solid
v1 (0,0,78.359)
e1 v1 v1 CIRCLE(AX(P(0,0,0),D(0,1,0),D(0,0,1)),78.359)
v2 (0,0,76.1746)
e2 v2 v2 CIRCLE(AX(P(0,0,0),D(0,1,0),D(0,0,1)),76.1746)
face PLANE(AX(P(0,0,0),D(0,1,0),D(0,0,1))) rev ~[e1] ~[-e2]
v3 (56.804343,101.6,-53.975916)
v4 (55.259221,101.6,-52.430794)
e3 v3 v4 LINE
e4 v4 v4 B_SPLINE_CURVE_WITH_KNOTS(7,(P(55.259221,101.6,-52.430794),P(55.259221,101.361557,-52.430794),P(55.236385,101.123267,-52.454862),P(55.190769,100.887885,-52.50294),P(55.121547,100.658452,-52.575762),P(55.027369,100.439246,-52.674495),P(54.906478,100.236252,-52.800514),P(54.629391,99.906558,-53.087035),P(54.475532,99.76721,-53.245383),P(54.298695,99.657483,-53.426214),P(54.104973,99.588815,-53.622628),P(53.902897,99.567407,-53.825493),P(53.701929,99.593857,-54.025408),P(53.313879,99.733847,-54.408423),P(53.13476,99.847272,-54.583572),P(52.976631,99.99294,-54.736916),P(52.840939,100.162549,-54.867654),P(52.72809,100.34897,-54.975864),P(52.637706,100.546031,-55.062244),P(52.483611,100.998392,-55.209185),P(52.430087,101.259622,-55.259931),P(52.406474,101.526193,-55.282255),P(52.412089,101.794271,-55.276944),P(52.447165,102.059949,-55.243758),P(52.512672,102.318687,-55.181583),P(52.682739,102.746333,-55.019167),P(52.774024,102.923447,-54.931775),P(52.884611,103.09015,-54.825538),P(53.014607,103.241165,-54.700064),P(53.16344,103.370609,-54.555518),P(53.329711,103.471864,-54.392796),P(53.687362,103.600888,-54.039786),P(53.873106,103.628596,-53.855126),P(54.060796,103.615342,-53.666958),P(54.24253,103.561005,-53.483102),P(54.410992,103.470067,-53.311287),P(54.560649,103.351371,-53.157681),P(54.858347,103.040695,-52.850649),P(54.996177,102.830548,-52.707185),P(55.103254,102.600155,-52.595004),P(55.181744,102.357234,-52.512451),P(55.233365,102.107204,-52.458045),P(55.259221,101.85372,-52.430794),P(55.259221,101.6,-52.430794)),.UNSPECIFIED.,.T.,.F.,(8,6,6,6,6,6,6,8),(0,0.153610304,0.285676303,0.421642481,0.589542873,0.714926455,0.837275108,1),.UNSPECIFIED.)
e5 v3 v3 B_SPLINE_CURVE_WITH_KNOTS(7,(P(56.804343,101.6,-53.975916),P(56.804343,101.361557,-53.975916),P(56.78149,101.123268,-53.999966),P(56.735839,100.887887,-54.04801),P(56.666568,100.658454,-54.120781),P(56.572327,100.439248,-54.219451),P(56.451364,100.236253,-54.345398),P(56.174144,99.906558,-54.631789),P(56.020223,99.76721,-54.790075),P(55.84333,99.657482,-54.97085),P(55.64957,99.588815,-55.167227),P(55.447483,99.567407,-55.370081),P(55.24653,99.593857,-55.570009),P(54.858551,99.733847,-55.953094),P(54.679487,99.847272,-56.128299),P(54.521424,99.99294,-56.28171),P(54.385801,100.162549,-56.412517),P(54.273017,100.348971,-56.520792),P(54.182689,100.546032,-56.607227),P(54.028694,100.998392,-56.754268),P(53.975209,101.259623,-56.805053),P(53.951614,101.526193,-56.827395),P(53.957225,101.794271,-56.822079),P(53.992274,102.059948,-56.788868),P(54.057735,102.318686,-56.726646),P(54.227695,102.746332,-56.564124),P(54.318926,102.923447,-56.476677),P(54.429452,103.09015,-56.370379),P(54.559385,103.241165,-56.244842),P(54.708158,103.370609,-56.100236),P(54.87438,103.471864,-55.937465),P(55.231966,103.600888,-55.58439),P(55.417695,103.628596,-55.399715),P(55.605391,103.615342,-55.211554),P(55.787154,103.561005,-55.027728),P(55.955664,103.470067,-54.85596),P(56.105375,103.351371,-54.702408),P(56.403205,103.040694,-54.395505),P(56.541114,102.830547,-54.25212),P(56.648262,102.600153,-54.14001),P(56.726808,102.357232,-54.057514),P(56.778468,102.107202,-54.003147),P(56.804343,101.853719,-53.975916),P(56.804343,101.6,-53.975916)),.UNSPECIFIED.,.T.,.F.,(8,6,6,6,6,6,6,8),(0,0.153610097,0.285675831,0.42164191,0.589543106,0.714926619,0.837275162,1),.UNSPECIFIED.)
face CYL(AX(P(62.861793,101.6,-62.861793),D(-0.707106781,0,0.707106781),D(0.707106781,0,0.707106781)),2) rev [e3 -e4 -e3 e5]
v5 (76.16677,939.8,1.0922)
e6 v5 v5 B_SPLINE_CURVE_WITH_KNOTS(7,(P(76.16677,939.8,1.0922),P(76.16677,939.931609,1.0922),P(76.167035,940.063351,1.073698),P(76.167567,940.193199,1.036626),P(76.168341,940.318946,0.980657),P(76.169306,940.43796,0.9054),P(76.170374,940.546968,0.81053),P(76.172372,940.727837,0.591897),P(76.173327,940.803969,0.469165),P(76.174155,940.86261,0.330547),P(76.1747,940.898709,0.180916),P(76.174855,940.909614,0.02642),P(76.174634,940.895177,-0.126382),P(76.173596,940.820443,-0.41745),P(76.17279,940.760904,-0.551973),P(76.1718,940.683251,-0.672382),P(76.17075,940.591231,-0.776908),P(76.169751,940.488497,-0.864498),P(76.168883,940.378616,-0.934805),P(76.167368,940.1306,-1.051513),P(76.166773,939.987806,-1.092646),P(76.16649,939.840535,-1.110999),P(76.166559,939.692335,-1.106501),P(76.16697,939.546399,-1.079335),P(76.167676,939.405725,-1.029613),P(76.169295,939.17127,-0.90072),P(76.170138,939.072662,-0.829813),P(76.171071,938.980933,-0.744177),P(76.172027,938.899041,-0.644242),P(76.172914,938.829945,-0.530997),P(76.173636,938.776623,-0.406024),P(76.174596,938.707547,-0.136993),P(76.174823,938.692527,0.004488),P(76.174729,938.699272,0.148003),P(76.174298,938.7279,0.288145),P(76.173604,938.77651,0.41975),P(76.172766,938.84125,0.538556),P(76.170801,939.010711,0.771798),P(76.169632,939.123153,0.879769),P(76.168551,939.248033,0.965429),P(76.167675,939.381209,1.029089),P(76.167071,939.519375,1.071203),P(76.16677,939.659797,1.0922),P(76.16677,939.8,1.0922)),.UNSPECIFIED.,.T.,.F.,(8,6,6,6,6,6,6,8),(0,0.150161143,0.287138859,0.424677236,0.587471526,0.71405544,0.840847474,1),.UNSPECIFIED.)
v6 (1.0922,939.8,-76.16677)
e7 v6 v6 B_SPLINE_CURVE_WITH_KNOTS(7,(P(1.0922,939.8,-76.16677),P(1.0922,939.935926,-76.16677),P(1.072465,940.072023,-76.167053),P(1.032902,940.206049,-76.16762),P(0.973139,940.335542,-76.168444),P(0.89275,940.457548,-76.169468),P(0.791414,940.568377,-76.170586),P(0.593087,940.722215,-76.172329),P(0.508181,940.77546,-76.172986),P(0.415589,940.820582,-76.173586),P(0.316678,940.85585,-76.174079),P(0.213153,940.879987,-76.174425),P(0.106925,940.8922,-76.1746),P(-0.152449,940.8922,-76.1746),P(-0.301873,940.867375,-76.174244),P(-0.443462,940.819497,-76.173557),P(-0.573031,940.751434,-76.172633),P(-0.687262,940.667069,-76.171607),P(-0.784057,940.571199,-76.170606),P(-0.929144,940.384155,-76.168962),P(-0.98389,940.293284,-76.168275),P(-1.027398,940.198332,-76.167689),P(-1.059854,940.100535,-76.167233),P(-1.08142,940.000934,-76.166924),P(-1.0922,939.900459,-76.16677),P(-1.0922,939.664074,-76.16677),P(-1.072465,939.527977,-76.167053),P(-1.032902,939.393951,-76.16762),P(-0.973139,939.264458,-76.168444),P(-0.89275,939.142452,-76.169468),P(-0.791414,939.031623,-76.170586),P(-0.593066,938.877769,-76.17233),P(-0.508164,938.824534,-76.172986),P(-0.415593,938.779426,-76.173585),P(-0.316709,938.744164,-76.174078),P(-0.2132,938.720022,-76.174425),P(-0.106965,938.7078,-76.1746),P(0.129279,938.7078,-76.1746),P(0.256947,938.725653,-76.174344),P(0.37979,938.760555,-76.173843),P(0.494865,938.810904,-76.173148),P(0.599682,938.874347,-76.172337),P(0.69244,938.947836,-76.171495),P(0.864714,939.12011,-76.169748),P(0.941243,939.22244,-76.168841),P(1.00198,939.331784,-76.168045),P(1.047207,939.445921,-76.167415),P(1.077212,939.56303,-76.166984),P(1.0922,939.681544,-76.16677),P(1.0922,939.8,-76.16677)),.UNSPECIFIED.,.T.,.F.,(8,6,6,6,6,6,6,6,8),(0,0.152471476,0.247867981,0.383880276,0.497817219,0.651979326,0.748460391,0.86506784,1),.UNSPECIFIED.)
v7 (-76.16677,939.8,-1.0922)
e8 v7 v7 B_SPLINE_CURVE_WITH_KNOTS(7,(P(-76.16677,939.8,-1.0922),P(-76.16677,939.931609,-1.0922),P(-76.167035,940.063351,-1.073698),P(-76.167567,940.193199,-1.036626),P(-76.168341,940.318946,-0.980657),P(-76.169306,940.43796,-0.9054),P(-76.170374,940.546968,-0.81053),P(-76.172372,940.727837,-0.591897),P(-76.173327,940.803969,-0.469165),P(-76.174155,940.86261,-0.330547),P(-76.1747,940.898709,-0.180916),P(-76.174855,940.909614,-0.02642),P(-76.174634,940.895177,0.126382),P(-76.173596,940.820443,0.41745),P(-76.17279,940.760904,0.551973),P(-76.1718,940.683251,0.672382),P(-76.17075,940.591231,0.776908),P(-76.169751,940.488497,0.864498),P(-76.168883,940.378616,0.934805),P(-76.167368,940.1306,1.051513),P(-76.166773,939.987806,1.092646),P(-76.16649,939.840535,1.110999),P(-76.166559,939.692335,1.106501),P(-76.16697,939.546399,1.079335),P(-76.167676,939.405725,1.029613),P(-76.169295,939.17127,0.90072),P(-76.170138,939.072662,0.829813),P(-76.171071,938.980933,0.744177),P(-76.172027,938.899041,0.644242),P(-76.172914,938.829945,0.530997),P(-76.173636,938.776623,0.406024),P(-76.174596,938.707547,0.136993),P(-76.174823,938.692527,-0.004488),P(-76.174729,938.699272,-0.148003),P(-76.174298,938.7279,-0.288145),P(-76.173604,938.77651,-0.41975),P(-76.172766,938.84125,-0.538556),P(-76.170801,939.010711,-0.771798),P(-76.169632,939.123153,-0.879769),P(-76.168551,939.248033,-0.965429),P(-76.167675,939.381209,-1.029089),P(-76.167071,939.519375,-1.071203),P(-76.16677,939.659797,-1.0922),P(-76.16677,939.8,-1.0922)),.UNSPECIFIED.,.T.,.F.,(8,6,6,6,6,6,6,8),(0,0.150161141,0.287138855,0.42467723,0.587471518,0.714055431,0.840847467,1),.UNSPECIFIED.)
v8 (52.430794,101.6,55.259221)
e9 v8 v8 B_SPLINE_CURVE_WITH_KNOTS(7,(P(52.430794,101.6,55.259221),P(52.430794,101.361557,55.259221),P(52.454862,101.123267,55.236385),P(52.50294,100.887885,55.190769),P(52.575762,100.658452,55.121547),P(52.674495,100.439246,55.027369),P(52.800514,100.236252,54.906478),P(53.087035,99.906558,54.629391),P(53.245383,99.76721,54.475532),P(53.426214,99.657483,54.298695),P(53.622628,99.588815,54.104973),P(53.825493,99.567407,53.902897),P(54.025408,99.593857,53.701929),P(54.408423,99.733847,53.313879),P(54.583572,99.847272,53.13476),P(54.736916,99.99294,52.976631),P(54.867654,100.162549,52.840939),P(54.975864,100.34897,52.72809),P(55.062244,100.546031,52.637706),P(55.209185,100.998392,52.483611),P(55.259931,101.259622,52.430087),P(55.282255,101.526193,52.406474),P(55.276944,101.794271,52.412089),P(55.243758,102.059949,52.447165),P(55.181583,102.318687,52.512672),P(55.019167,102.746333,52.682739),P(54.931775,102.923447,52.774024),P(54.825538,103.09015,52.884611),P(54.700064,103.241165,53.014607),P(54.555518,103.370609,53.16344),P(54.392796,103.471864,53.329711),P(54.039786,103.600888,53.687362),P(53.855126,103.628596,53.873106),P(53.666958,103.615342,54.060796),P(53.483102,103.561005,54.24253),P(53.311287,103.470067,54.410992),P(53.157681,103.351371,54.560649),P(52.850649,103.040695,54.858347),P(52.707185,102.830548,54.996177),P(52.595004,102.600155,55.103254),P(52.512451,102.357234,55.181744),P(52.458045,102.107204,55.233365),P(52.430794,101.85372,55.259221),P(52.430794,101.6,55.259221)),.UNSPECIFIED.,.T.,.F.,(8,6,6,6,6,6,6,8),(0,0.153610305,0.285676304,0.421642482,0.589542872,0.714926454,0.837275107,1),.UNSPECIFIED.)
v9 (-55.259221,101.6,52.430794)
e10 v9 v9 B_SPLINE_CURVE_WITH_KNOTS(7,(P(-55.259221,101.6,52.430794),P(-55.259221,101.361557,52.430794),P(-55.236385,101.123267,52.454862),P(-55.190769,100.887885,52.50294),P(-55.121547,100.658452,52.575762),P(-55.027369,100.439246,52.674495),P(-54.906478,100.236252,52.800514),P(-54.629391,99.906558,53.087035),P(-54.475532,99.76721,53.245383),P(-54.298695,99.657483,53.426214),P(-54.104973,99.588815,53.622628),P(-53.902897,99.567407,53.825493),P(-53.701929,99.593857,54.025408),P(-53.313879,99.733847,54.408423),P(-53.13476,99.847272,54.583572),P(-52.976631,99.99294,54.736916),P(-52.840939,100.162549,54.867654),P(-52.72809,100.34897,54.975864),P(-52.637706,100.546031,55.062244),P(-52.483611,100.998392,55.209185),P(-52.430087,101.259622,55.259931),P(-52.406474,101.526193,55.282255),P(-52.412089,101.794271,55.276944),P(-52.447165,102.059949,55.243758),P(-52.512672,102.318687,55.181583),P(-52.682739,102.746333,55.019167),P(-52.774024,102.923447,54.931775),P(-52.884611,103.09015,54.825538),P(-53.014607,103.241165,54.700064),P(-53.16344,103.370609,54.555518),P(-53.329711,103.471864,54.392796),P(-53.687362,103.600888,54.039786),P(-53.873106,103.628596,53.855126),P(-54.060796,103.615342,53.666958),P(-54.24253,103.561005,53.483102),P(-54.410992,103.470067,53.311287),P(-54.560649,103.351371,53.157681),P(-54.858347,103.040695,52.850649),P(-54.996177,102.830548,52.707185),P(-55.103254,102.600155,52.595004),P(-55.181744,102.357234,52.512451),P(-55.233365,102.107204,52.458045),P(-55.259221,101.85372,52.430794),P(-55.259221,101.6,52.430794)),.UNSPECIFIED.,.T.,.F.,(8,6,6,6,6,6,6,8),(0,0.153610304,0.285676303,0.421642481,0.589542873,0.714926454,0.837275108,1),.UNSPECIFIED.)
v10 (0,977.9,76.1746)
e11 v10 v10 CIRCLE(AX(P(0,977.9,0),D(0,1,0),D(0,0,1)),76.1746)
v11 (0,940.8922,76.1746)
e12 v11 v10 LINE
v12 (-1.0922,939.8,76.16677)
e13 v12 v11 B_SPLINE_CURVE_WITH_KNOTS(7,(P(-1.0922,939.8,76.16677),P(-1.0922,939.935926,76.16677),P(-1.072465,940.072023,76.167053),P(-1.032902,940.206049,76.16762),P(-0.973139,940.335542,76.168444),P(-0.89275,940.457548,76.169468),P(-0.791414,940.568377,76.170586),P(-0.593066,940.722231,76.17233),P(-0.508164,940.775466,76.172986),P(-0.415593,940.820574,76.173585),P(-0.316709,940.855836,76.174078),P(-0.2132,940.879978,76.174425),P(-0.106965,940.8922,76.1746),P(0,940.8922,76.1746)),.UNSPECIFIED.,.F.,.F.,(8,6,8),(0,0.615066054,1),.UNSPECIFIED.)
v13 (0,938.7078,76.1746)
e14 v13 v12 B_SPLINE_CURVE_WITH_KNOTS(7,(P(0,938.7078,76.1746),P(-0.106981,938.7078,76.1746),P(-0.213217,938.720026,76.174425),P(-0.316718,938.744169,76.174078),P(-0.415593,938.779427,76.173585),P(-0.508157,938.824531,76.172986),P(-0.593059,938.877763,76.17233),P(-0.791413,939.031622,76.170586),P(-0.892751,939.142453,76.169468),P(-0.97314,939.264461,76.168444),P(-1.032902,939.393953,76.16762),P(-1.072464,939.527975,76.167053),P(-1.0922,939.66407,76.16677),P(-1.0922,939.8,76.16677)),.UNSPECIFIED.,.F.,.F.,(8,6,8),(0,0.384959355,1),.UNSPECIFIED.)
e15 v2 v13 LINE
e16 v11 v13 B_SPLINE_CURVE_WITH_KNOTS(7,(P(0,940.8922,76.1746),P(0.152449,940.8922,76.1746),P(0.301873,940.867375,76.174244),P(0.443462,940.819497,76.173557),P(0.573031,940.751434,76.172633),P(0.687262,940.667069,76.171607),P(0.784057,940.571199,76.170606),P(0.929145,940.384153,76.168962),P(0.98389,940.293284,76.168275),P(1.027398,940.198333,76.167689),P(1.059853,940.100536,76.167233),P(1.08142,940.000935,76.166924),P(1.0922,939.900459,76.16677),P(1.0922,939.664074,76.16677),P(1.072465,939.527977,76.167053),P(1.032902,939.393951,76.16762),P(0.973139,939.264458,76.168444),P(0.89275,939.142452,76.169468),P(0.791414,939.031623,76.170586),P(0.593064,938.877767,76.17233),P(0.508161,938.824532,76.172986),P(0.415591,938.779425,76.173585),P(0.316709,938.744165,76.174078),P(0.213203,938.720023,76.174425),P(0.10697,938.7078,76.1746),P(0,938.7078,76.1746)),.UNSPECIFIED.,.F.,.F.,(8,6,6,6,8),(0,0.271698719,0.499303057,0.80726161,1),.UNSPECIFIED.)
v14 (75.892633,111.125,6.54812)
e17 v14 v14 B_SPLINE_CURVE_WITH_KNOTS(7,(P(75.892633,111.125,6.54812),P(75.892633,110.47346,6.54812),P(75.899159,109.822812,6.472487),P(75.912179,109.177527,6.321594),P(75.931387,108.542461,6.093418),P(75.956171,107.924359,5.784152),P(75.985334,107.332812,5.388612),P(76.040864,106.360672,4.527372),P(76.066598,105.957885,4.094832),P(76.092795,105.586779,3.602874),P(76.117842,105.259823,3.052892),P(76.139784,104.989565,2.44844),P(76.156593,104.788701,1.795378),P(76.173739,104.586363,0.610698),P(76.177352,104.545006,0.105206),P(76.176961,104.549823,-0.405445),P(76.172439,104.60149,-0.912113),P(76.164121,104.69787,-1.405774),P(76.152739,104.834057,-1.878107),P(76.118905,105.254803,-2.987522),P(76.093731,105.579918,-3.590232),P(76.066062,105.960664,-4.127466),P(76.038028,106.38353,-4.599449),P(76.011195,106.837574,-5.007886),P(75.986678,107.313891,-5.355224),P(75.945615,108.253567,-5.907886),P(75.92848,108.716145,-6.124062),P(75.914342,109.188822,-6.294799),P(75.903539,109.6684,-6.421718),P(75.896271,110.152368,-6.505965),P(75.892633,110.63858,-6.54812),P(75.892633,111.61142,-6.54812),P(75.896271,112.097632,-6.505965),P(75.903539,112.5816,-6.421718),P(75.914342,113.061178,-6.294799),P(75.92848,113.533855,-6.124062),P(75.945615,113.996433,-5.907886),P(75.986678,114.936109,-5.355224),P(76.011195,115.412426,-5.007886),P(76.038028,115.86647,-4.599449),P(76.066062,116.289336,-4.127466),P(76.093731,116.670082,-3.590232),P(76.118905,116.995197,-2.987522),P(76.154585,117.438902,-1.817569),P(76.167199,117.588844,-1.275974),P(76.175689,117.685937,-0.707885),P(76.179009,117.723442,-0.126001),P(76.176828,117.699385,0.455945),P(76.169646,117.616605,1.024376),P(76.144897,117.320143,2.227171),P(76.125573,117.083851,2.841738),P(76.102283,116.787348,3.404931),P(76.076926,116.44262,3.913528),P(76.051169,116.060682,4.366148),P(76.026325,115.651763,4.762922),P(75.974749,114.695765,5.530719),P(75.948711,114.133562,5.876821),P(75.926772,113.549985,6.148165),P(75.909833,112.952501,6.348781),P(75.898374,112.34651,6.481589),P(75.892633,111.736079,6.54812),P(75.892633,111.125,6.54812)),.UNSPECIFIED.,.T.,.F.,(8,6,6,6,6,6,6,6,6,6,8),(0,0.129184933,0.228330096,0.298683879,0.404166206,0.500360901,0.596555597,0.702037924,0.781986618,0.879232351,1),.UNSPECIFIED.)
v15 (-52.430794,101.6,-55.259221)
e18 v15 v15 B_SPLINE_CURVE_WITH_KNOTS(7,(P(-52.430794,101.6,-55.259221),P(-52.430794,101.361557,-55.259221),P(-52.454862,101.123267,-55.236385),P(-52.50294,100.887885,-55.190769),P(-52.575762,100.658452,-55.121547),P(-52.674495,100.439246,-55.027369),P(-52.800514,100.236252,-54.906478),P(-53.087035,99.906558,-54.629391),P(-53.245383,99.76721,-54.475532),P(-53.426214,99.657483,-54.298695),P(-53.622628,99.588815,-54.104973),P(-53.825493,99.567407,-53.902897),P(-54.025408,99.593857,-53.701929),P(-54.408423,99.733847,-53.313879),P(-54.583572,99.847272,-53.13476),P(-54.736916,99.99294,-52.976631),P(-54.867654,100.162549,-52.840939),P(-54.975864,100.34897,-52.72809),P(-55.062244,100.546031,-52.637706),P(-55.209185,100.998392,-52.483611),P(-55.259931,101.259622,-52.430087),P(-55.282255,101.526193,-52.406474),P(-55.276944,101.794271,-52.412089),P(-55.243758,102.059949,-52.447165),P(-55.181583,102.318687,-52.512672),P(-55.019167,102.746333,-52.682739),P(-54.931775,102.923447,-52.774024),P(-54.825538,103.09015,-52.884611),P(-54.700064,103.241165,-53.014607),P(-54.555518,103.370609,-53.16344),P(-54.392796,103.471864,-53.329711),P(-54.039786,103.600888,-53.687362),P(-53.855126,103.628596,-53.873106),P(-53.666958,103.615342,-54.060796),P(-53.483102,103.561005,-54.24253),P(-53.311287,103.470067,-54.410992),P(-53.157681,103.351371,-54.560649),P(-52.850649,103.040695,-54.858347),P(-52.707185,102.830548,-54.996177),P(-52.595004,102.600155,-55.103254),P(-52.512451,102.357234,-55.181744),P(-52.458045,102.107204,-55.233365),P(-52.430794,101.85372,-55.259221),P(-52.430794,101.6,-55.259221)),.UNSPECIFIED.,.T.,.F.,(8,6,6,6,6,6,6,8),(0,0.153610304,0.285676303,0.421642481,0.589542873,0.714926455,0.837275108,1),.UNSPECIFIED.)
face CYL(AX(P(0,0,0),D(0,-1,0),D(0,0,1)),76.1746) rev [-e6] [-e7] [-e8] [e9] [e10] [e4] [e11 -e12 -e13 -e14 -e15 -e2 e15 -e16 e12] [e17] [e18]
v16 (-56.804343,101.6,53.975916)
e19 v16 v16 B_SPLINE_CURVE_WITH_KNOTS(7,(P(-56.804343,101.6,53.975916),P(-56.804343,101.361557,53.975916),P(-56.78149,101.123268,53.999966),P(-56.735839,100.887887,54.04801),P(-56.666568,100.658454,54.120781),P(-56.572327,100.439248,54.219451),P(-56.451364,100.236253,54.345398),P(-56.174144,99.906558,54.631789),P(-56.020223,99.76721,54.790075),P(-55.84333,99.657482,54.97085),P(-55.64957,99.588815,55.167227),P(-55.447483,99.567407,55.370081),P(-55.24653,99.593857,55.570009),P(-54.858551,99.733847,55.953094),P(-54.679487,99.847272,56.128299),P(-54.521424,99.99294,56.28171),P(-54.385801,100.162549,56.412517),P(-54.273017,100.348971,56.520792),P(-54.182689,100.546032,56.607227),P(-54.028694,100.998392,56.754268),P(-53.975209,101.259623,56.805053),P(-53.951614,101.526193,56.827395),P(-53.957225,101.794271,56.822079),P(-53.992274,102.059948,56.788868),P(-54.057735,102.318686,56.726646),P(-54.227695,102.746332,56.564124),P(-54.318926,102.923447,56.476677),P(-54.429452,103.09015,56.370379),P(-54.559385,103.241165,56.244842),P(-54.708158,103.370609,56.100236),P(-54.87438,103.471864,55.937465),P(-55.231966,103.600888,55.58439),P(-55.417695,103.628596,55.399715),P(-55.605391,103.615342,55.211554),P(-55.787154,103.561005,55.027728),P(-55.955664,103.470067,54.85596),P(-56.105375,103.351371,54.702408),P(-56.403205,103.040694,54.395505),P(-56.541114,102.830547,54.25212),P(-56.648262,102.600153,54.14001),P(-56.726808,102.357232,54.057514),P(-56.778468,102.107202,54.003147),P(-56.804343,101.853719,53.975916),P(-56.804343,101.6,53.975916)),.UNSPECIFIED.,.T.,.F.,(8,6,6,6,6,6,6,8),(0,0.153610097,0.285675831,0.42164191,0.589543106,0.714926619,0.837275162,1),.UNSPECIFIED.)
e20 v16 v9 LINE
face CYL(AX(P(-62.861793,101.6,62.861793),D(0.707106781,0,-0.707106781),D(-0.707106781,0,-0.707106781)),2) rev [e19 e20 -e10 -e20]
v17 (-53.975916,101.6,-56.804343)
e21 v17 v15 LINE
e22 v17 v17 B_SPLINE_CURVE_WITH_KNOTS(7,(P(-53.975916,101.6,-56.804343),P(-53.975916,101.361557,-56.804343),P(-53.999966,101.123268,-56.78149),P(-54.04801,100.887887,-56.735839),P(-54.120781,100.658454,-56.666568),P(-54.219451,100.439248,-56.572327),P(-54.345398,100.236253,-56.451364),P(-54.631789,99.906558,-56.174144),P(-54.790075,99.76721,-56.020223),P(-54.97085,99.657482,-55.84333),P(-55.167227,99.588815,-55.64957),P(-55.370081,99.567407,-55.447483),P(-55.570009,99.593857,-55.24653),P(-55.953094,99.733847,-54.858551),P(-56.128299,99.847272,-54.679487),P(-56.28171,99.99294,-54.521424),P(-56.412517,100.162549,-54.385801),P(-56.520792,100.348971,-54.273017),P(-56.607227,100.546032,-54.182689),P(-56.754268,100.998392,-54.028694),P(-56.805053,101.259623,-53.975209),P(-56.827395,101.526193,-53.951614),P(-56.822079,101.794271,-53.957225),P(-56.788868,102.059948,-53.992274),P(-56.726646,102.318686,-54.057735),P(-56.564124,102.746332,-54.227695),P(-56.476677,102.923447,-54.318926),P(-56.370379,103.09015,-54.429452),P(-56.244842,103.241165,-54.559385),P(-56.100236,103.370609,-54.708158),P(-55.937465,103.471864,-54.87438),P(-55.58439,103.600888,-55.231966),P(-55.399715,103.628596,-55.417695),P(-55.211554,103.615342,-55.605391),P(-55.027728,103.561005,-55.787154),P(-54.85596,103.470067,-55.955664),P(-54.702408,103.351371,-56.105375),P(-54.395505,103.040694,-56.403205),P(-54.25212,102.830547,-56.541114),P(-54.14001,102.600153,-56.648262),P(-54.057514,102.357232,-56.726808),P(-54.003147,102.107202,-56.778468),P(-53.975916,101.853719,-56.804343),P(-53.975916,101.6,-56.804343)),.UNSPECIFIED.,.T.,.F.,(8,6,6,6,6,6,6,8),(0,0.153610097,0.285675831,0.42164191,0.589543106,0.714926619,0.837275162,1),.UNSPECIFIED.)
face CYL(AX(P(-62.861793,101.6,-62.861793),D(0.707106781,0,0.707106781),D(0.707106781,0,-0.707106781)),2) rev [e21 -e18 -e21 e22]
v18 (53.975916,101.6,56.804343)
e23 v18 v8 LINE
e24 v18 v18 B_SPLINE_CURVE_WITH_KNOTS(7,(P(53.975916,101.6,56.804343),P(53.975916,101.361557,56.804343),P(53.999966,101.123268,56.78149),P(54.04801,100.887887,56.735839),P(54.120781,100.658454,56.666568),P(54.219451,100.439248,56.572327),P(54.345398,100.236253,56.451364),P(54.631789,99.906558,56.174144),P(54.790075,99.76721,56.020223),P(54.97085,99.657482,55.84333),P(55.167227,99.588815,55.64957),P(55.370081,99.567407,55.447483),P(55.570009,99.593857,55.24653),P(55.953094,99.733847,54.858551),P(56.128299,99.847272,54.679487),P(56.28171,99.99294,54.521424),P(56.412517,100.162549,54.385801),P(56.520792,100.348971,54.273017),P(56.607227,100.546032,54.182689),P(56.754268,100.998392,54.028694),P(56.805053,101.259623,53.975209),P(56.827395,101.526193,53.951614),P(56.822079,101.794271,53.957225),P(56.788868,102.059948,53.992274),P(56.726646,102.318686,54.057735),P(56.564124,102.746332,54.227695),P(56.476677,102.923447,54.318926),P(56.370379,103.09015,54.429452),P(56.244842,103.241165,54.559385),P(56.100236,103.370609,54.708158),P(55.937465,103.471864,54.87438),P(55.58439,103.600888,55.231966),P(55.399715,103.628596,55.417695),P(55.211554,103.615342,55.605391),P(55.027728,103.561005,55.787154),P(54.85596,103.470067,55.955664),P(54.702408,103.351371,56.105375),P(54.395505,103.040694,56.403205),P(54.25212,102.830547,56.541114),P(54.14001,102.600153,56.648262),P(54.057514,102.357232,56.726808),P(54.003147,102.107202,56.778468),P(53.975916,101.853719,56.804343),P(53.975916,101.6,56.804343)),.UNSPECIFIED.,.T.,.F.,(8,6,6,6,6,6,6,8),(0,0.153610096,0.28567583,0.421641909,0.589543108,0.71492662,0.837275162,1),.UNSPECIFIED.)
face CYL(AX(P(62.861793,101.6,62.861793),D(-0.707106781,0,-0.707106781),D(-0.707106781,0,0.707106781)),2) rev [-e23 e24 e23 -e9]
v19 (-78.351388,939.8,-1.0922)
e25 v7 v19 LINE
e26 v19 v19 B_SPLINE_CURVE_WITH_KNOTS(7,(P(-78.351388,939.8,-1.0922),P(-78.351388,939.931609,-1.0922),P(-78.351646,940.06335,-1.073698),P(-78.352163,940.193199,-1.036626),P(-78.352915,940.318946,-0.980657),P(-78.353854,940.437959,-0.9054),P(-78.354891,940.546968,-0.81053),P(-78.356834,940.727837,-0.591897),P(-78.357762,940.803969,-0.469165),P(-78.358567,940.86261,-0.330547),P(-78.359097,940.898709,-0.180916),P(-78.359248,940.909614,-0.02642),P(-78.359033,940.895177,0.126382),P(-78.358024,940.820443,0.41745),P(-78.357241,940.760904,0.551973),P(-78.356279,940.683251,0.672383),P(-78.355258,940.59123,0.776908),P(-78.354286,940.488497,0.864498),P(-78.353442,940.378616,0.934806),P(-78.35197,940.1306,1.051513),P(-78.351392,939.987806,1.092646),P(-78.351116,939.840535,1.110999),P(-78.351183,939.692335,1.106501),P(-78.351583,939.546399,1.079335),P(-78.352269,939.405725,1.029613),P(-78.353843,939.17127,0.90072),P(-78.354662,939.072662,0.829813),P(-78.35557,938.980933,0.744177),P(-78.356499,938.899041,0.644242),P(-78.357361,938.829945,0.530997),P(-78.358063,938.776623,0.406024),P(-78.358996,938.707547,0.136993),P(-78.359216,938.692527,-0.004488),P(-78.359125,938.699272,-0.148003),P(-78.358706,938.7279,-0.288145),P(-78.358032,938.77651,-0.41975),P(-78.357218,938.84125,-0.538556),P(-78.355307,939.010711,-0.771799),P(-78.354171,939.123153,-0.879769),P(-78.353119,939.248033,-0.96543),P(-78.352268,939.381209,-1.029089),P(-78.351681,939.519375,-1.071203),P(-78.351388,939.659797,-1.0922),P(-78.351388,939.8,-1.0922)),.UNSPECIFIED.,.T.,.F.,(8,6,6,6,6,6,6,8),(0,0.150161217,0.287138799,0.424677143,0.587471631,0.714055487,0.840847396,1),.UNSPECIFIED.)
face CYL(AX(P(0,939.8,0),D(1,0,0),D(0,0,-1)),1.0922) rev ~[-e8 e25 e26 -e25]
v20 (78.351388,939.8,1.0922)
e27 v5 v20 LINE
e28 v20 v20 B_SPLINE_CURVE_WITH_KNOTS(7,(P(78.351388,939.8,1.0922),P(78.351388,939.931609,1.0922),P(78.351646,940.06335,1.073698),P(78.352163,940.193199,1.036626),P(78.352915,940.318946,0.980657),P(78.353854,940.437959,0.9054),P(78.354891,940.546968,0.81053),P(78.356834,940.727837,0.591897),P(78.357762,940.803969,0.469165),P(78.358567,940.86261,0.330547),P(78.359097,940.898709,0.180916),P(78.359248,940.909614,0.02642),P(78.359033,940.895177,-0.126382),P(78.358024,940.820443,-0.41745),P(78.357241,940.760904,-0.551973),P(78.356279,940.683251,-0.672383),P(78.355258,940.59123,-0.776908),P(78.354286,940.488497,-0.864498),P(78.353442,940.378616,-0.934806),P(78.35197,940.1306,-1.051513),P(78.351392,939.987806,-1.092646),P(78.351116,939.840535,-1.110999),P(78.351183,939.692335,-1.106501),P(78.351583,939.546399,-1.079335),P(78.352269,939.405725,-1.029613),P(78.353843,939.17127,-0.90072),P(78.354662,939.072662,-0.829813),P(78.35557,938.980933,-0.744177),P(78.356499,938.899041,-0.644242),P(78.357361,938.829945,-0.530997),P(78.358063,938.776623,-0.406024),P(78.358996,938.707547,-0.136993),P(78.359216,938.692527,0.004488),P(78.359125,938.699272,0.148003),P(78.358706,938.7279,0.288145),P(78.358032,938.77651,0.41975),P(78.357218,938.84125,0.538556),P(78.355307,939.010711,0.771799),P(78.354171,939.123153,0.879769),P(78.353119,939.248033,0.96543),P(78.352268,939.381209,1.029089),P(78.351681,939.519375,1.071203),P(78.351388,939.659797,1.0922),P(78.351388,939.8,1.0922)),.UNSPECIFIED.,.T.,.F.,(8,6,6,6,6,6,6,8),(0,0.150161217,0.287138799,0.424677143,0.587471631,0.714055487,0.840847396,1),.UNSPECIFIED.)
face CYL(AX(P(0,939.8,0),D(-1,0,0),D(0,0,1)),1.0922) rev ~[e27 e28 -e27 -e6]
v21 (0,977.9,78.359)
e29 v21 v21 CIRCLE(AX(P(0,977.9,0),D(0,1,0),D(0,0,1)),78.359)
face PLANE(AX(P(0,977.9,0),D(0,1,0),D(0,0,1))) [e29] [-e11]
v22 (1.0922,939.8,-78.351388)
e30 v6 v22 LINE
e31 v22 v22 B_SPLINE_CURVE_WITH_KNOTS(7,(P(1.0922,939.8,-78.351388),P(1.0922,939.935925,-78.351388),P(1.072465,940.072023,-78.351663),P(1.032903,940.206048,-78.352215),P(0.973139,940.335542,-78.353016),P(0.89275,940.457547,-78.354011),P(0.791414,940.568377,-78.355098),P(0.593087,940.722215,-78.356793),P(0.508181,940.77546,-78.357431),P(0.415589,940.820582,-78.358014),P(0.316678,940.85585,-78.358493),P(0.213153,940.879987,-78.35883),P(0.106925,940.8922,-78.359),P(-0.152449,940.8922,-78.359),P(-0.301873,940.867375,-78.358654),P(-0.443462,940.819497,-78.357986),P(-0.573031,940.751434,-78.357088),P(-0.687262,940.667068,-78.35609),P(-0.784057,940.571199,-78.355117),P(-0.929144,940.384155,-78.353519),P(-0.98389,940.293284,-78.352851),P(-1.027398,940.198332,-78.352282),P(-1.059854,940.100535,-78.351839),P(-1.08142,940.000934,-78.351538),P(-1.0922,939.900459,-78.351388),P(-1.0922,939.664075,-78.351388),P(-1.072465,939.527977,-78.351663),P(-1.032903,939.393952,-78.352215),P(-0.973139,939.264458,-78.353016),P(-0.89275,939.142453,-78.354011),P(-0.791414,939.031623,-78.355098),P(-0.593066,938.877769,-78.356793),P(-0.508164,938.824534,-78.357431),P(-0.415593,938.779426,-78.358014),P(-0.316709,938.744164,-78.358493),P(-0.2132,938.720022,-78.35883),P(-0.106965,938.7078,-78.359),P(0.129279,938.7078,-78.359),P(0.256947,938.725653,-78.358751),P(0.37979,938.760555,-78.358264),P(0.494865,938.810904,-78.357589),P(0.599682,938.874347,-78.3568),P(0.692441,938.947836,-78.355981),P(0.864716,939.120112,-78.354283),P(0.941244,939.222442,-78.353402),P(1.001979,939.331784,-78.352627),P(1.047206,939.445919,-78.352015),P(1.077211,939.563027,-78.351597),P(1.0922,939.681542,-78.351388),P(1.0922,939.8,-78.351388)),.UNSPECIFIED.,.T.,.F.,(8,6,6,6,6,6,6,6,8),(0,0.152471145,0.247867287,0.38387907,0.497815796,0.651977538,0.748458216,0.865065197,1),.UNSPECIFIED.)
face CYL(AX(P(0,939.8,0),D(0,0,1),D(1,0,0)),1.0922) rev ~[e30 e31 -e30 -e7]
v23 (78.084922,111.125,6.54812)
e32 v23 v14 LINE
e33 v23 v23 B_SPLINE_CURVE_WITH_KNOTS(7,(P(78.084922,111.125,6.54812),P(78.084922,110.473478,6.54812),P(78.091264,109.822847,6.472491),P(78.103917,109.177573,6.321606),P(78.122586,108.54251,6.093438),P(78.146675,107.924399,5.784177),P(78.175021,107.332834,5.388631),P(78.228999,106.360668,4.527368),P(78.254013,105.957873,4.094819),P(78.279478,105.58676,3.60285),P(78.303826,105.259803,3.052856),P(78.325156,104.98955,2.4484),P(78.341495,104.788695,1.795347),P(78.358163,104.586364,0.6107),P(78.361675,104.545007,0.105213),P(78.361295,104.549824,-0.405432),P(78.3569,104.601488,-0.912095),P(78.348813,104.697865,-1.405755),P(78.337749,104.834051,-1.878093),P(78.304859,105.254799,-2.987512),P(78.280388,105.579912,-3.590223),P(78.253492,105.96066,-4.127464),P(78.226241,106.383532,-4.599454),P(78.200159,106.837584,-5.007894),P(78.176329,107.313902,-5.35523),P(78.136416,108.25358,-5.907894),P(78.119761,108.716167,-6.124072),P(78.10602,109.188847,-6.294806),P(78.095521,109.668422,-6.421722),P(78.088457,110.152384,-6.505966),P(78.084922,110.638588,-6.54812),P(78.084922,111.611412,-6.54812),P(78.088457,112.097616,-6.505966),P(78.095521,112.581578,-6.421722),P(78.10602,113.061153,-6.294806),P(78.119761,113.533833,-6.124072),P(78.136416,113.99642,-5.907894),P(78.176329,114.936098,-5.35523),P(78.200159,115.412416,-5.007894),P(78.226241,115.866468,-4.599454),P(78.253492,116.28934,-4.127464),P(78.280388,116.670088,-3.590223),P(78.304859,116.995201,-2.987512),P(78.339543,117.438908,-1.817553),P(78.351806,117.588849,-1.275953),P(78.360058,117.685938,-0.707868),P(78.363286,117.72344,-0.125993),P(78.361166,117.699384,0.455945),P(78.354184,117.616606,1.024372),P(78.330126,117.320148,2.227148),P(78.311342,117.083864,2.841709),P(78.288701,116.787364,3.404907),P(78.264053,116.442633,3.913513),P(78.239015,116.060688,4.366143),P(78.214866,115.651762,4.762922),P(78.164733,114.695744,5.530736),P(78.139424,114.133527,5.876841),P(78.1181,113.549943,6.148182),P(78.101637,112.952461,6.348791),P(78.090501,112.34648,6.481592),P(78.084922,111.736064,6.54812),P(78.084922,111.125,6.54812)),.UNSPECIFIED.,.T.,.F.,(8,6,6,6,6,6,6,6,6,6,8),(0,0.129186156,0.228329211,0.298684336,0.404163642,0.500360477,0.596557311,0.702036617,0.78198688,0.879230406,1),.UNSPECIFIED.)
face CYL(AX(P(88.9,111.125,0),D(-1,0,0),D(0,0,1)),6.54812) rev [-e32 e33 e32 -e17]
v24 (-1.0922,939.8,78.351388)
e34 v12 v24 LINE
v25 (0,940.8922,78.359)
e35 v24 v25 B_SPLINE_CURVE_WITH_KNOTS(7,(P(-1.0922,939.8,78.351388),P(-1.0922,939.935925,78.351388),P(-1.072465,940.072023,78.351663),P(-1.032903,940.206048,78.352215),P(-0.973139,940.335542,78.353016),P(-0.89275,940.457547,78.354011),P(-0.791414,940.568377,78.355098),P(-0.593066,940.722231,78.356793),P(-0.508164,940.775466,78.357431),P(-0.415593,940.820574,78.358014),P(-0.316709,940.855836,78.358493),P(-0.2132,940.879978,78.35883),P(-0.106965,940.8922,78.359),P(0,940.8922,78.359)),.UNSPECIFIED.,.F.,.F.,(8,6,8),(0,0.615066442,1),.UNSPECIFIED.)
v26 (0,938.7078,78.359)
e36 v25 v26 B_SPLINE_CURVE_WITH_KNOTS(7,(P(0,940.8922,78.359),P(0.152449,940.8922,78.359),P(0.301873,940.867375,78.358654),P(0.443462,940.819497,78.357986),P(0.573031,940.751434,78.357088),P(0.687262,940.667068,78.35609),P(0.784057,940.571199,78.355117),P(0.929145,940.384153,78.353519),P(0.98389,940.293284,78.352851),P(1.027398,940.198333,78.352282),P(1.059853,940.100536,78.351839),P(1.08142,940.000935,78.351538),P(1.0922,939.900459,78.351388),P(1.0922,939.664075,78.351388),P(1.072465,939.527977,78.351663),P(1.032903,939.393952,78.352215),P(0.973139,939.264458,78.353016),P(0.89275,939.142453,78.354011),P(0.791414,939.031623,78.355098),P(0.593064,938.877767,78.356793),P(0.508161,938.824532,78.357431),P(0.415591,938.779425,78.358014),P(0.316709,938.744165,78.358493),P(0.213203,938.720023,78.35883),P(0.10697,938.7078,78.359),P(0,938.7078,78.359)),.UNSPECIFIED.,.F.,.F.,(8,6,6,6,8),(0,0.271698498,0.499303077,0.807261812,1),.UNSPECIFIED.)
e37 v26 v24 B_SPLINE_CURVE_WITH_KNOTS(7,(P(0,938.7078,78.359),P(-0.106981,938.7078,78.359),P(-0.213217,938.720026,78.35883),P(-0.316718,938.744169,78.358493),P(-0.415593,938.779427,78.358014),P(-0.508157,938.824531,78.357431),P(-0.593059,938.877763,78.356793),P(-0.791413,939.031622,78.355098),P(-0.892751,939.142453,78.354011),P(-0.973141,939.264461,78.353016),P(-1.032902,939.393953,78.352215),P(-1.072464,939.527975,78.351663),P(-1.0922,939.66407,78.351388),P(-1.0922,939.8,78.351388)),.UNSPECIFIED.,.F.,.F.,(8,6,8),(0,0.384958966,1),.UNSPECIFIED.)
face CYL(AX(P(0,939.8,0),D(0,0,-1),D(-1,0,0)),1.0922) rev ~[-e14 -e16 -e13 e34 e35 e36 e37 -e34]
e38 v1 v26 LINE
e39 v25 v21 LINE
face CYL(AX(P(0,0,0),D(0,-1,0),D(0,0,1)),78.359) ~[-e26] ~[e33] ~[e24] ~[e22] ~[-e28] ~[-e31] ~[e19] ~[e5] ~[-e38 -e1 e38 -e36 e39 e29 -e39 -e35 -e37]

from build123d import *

# Parameters (mm, degrees)
SKETCH1_R           = 78.359
SKETCH1_R_2         = 76.1746
BOSS_EXTRUDE1_DEPTH = 977.9
SKETCH2_R           = 1.0922
CUT_EXTRUDE1_DEPTH  = 985.158867136
CIRPATTERN1_COUNT   = 4
CIRPATTERN2_COUNT   = 4


with BuildPart() as part:
    # Sketch1 → Boss-Extrude1 (new body)
    with BuildSketch(Plane(origin=(0, 0, 0), x_dir=(1, 0, 0), z_dir=(0, 1, 0))):
        Circle(SKETCH1_R)
        Circle(SKETCH1_R_2, mode=Mode.SUBTRACT)
    extrude(amount=BOSS_EXTRUDE1_DEPTH)

    # Sketch2 → Cut-Extrude1 (cut, through all)
    with BuildSketch(Plane(origin=(0, 0, 0), x_dir=(0, 0, -1), z_dir=(1, 0, 0))):
        with Locations((0, 939.8)):
            Circle(SKETCH2_R)
    cut_extrude1 = extrude(amount=-CUT_EXTRUDE1_DEPTH, mode=Mode.SUBTRACT)

    # CirPattern1: Cut-Extrude1 ×4 about axis
    cirpattern1_axis = Axis((0, 977.9, 0), (0, 1, 0))
    for i in range(1, CIRPATTERN1_COUNT):
        add(cut_extrude1.rotate(cirpattern1_axis, i * 360 / CIRPATTERN1_COUNT), mode=Mode.SUBTRACT)

    # Sketch4 → 1/2 Clearance Hole1 (revolve, cut)
    with BuildSketch(Plane.ZX.offset(111.125)):
        Polygon((0, 0), (0, 92.834507437), (6.54812, 88.9), (6.54812, 0), align=None)
    revolve(axis=Axis((-6.35, 111.125, 0), (1, 0, 0)), mode=Mode.SUBTRACT)

    # Sketch6 → Ø4.0 (4) Diameter Hole1 (revolve, cut)
    with BuildSketch(Plane(origin=(0, 101.6, 0), x_dir=(0.7071067811865488, 0, -0.7071067811865464), z_dir=(0, 1, 0))):
        Polygon((0, 0), (0, 90.101721238), (2, 88.9), (2, 0), align=None)
    f_4_0_4_diameter_hole1 = revolve(axis=Axis((4.490128061, 101.6, 4.490128061), (-0.7071067811865464, 0, -0.7071067811865487)), mode=Mode.SUBTRACT)

    # CirPattern2: Ø4.0 (4) Diameter Hole1 ×4 about axis
    cirpattern2_axis = Axis((0, 0, 0), (0, 1, 0))
    for i in range(1, CIRPATTERN2_COUNT):
        add(f_4_0_4_diameter_hole1.rotate(cirpattern2_axis, i * 360 / CIRPATTERN2_COUNT), mode=Mode.SUBTRACT)


solid = part.part
